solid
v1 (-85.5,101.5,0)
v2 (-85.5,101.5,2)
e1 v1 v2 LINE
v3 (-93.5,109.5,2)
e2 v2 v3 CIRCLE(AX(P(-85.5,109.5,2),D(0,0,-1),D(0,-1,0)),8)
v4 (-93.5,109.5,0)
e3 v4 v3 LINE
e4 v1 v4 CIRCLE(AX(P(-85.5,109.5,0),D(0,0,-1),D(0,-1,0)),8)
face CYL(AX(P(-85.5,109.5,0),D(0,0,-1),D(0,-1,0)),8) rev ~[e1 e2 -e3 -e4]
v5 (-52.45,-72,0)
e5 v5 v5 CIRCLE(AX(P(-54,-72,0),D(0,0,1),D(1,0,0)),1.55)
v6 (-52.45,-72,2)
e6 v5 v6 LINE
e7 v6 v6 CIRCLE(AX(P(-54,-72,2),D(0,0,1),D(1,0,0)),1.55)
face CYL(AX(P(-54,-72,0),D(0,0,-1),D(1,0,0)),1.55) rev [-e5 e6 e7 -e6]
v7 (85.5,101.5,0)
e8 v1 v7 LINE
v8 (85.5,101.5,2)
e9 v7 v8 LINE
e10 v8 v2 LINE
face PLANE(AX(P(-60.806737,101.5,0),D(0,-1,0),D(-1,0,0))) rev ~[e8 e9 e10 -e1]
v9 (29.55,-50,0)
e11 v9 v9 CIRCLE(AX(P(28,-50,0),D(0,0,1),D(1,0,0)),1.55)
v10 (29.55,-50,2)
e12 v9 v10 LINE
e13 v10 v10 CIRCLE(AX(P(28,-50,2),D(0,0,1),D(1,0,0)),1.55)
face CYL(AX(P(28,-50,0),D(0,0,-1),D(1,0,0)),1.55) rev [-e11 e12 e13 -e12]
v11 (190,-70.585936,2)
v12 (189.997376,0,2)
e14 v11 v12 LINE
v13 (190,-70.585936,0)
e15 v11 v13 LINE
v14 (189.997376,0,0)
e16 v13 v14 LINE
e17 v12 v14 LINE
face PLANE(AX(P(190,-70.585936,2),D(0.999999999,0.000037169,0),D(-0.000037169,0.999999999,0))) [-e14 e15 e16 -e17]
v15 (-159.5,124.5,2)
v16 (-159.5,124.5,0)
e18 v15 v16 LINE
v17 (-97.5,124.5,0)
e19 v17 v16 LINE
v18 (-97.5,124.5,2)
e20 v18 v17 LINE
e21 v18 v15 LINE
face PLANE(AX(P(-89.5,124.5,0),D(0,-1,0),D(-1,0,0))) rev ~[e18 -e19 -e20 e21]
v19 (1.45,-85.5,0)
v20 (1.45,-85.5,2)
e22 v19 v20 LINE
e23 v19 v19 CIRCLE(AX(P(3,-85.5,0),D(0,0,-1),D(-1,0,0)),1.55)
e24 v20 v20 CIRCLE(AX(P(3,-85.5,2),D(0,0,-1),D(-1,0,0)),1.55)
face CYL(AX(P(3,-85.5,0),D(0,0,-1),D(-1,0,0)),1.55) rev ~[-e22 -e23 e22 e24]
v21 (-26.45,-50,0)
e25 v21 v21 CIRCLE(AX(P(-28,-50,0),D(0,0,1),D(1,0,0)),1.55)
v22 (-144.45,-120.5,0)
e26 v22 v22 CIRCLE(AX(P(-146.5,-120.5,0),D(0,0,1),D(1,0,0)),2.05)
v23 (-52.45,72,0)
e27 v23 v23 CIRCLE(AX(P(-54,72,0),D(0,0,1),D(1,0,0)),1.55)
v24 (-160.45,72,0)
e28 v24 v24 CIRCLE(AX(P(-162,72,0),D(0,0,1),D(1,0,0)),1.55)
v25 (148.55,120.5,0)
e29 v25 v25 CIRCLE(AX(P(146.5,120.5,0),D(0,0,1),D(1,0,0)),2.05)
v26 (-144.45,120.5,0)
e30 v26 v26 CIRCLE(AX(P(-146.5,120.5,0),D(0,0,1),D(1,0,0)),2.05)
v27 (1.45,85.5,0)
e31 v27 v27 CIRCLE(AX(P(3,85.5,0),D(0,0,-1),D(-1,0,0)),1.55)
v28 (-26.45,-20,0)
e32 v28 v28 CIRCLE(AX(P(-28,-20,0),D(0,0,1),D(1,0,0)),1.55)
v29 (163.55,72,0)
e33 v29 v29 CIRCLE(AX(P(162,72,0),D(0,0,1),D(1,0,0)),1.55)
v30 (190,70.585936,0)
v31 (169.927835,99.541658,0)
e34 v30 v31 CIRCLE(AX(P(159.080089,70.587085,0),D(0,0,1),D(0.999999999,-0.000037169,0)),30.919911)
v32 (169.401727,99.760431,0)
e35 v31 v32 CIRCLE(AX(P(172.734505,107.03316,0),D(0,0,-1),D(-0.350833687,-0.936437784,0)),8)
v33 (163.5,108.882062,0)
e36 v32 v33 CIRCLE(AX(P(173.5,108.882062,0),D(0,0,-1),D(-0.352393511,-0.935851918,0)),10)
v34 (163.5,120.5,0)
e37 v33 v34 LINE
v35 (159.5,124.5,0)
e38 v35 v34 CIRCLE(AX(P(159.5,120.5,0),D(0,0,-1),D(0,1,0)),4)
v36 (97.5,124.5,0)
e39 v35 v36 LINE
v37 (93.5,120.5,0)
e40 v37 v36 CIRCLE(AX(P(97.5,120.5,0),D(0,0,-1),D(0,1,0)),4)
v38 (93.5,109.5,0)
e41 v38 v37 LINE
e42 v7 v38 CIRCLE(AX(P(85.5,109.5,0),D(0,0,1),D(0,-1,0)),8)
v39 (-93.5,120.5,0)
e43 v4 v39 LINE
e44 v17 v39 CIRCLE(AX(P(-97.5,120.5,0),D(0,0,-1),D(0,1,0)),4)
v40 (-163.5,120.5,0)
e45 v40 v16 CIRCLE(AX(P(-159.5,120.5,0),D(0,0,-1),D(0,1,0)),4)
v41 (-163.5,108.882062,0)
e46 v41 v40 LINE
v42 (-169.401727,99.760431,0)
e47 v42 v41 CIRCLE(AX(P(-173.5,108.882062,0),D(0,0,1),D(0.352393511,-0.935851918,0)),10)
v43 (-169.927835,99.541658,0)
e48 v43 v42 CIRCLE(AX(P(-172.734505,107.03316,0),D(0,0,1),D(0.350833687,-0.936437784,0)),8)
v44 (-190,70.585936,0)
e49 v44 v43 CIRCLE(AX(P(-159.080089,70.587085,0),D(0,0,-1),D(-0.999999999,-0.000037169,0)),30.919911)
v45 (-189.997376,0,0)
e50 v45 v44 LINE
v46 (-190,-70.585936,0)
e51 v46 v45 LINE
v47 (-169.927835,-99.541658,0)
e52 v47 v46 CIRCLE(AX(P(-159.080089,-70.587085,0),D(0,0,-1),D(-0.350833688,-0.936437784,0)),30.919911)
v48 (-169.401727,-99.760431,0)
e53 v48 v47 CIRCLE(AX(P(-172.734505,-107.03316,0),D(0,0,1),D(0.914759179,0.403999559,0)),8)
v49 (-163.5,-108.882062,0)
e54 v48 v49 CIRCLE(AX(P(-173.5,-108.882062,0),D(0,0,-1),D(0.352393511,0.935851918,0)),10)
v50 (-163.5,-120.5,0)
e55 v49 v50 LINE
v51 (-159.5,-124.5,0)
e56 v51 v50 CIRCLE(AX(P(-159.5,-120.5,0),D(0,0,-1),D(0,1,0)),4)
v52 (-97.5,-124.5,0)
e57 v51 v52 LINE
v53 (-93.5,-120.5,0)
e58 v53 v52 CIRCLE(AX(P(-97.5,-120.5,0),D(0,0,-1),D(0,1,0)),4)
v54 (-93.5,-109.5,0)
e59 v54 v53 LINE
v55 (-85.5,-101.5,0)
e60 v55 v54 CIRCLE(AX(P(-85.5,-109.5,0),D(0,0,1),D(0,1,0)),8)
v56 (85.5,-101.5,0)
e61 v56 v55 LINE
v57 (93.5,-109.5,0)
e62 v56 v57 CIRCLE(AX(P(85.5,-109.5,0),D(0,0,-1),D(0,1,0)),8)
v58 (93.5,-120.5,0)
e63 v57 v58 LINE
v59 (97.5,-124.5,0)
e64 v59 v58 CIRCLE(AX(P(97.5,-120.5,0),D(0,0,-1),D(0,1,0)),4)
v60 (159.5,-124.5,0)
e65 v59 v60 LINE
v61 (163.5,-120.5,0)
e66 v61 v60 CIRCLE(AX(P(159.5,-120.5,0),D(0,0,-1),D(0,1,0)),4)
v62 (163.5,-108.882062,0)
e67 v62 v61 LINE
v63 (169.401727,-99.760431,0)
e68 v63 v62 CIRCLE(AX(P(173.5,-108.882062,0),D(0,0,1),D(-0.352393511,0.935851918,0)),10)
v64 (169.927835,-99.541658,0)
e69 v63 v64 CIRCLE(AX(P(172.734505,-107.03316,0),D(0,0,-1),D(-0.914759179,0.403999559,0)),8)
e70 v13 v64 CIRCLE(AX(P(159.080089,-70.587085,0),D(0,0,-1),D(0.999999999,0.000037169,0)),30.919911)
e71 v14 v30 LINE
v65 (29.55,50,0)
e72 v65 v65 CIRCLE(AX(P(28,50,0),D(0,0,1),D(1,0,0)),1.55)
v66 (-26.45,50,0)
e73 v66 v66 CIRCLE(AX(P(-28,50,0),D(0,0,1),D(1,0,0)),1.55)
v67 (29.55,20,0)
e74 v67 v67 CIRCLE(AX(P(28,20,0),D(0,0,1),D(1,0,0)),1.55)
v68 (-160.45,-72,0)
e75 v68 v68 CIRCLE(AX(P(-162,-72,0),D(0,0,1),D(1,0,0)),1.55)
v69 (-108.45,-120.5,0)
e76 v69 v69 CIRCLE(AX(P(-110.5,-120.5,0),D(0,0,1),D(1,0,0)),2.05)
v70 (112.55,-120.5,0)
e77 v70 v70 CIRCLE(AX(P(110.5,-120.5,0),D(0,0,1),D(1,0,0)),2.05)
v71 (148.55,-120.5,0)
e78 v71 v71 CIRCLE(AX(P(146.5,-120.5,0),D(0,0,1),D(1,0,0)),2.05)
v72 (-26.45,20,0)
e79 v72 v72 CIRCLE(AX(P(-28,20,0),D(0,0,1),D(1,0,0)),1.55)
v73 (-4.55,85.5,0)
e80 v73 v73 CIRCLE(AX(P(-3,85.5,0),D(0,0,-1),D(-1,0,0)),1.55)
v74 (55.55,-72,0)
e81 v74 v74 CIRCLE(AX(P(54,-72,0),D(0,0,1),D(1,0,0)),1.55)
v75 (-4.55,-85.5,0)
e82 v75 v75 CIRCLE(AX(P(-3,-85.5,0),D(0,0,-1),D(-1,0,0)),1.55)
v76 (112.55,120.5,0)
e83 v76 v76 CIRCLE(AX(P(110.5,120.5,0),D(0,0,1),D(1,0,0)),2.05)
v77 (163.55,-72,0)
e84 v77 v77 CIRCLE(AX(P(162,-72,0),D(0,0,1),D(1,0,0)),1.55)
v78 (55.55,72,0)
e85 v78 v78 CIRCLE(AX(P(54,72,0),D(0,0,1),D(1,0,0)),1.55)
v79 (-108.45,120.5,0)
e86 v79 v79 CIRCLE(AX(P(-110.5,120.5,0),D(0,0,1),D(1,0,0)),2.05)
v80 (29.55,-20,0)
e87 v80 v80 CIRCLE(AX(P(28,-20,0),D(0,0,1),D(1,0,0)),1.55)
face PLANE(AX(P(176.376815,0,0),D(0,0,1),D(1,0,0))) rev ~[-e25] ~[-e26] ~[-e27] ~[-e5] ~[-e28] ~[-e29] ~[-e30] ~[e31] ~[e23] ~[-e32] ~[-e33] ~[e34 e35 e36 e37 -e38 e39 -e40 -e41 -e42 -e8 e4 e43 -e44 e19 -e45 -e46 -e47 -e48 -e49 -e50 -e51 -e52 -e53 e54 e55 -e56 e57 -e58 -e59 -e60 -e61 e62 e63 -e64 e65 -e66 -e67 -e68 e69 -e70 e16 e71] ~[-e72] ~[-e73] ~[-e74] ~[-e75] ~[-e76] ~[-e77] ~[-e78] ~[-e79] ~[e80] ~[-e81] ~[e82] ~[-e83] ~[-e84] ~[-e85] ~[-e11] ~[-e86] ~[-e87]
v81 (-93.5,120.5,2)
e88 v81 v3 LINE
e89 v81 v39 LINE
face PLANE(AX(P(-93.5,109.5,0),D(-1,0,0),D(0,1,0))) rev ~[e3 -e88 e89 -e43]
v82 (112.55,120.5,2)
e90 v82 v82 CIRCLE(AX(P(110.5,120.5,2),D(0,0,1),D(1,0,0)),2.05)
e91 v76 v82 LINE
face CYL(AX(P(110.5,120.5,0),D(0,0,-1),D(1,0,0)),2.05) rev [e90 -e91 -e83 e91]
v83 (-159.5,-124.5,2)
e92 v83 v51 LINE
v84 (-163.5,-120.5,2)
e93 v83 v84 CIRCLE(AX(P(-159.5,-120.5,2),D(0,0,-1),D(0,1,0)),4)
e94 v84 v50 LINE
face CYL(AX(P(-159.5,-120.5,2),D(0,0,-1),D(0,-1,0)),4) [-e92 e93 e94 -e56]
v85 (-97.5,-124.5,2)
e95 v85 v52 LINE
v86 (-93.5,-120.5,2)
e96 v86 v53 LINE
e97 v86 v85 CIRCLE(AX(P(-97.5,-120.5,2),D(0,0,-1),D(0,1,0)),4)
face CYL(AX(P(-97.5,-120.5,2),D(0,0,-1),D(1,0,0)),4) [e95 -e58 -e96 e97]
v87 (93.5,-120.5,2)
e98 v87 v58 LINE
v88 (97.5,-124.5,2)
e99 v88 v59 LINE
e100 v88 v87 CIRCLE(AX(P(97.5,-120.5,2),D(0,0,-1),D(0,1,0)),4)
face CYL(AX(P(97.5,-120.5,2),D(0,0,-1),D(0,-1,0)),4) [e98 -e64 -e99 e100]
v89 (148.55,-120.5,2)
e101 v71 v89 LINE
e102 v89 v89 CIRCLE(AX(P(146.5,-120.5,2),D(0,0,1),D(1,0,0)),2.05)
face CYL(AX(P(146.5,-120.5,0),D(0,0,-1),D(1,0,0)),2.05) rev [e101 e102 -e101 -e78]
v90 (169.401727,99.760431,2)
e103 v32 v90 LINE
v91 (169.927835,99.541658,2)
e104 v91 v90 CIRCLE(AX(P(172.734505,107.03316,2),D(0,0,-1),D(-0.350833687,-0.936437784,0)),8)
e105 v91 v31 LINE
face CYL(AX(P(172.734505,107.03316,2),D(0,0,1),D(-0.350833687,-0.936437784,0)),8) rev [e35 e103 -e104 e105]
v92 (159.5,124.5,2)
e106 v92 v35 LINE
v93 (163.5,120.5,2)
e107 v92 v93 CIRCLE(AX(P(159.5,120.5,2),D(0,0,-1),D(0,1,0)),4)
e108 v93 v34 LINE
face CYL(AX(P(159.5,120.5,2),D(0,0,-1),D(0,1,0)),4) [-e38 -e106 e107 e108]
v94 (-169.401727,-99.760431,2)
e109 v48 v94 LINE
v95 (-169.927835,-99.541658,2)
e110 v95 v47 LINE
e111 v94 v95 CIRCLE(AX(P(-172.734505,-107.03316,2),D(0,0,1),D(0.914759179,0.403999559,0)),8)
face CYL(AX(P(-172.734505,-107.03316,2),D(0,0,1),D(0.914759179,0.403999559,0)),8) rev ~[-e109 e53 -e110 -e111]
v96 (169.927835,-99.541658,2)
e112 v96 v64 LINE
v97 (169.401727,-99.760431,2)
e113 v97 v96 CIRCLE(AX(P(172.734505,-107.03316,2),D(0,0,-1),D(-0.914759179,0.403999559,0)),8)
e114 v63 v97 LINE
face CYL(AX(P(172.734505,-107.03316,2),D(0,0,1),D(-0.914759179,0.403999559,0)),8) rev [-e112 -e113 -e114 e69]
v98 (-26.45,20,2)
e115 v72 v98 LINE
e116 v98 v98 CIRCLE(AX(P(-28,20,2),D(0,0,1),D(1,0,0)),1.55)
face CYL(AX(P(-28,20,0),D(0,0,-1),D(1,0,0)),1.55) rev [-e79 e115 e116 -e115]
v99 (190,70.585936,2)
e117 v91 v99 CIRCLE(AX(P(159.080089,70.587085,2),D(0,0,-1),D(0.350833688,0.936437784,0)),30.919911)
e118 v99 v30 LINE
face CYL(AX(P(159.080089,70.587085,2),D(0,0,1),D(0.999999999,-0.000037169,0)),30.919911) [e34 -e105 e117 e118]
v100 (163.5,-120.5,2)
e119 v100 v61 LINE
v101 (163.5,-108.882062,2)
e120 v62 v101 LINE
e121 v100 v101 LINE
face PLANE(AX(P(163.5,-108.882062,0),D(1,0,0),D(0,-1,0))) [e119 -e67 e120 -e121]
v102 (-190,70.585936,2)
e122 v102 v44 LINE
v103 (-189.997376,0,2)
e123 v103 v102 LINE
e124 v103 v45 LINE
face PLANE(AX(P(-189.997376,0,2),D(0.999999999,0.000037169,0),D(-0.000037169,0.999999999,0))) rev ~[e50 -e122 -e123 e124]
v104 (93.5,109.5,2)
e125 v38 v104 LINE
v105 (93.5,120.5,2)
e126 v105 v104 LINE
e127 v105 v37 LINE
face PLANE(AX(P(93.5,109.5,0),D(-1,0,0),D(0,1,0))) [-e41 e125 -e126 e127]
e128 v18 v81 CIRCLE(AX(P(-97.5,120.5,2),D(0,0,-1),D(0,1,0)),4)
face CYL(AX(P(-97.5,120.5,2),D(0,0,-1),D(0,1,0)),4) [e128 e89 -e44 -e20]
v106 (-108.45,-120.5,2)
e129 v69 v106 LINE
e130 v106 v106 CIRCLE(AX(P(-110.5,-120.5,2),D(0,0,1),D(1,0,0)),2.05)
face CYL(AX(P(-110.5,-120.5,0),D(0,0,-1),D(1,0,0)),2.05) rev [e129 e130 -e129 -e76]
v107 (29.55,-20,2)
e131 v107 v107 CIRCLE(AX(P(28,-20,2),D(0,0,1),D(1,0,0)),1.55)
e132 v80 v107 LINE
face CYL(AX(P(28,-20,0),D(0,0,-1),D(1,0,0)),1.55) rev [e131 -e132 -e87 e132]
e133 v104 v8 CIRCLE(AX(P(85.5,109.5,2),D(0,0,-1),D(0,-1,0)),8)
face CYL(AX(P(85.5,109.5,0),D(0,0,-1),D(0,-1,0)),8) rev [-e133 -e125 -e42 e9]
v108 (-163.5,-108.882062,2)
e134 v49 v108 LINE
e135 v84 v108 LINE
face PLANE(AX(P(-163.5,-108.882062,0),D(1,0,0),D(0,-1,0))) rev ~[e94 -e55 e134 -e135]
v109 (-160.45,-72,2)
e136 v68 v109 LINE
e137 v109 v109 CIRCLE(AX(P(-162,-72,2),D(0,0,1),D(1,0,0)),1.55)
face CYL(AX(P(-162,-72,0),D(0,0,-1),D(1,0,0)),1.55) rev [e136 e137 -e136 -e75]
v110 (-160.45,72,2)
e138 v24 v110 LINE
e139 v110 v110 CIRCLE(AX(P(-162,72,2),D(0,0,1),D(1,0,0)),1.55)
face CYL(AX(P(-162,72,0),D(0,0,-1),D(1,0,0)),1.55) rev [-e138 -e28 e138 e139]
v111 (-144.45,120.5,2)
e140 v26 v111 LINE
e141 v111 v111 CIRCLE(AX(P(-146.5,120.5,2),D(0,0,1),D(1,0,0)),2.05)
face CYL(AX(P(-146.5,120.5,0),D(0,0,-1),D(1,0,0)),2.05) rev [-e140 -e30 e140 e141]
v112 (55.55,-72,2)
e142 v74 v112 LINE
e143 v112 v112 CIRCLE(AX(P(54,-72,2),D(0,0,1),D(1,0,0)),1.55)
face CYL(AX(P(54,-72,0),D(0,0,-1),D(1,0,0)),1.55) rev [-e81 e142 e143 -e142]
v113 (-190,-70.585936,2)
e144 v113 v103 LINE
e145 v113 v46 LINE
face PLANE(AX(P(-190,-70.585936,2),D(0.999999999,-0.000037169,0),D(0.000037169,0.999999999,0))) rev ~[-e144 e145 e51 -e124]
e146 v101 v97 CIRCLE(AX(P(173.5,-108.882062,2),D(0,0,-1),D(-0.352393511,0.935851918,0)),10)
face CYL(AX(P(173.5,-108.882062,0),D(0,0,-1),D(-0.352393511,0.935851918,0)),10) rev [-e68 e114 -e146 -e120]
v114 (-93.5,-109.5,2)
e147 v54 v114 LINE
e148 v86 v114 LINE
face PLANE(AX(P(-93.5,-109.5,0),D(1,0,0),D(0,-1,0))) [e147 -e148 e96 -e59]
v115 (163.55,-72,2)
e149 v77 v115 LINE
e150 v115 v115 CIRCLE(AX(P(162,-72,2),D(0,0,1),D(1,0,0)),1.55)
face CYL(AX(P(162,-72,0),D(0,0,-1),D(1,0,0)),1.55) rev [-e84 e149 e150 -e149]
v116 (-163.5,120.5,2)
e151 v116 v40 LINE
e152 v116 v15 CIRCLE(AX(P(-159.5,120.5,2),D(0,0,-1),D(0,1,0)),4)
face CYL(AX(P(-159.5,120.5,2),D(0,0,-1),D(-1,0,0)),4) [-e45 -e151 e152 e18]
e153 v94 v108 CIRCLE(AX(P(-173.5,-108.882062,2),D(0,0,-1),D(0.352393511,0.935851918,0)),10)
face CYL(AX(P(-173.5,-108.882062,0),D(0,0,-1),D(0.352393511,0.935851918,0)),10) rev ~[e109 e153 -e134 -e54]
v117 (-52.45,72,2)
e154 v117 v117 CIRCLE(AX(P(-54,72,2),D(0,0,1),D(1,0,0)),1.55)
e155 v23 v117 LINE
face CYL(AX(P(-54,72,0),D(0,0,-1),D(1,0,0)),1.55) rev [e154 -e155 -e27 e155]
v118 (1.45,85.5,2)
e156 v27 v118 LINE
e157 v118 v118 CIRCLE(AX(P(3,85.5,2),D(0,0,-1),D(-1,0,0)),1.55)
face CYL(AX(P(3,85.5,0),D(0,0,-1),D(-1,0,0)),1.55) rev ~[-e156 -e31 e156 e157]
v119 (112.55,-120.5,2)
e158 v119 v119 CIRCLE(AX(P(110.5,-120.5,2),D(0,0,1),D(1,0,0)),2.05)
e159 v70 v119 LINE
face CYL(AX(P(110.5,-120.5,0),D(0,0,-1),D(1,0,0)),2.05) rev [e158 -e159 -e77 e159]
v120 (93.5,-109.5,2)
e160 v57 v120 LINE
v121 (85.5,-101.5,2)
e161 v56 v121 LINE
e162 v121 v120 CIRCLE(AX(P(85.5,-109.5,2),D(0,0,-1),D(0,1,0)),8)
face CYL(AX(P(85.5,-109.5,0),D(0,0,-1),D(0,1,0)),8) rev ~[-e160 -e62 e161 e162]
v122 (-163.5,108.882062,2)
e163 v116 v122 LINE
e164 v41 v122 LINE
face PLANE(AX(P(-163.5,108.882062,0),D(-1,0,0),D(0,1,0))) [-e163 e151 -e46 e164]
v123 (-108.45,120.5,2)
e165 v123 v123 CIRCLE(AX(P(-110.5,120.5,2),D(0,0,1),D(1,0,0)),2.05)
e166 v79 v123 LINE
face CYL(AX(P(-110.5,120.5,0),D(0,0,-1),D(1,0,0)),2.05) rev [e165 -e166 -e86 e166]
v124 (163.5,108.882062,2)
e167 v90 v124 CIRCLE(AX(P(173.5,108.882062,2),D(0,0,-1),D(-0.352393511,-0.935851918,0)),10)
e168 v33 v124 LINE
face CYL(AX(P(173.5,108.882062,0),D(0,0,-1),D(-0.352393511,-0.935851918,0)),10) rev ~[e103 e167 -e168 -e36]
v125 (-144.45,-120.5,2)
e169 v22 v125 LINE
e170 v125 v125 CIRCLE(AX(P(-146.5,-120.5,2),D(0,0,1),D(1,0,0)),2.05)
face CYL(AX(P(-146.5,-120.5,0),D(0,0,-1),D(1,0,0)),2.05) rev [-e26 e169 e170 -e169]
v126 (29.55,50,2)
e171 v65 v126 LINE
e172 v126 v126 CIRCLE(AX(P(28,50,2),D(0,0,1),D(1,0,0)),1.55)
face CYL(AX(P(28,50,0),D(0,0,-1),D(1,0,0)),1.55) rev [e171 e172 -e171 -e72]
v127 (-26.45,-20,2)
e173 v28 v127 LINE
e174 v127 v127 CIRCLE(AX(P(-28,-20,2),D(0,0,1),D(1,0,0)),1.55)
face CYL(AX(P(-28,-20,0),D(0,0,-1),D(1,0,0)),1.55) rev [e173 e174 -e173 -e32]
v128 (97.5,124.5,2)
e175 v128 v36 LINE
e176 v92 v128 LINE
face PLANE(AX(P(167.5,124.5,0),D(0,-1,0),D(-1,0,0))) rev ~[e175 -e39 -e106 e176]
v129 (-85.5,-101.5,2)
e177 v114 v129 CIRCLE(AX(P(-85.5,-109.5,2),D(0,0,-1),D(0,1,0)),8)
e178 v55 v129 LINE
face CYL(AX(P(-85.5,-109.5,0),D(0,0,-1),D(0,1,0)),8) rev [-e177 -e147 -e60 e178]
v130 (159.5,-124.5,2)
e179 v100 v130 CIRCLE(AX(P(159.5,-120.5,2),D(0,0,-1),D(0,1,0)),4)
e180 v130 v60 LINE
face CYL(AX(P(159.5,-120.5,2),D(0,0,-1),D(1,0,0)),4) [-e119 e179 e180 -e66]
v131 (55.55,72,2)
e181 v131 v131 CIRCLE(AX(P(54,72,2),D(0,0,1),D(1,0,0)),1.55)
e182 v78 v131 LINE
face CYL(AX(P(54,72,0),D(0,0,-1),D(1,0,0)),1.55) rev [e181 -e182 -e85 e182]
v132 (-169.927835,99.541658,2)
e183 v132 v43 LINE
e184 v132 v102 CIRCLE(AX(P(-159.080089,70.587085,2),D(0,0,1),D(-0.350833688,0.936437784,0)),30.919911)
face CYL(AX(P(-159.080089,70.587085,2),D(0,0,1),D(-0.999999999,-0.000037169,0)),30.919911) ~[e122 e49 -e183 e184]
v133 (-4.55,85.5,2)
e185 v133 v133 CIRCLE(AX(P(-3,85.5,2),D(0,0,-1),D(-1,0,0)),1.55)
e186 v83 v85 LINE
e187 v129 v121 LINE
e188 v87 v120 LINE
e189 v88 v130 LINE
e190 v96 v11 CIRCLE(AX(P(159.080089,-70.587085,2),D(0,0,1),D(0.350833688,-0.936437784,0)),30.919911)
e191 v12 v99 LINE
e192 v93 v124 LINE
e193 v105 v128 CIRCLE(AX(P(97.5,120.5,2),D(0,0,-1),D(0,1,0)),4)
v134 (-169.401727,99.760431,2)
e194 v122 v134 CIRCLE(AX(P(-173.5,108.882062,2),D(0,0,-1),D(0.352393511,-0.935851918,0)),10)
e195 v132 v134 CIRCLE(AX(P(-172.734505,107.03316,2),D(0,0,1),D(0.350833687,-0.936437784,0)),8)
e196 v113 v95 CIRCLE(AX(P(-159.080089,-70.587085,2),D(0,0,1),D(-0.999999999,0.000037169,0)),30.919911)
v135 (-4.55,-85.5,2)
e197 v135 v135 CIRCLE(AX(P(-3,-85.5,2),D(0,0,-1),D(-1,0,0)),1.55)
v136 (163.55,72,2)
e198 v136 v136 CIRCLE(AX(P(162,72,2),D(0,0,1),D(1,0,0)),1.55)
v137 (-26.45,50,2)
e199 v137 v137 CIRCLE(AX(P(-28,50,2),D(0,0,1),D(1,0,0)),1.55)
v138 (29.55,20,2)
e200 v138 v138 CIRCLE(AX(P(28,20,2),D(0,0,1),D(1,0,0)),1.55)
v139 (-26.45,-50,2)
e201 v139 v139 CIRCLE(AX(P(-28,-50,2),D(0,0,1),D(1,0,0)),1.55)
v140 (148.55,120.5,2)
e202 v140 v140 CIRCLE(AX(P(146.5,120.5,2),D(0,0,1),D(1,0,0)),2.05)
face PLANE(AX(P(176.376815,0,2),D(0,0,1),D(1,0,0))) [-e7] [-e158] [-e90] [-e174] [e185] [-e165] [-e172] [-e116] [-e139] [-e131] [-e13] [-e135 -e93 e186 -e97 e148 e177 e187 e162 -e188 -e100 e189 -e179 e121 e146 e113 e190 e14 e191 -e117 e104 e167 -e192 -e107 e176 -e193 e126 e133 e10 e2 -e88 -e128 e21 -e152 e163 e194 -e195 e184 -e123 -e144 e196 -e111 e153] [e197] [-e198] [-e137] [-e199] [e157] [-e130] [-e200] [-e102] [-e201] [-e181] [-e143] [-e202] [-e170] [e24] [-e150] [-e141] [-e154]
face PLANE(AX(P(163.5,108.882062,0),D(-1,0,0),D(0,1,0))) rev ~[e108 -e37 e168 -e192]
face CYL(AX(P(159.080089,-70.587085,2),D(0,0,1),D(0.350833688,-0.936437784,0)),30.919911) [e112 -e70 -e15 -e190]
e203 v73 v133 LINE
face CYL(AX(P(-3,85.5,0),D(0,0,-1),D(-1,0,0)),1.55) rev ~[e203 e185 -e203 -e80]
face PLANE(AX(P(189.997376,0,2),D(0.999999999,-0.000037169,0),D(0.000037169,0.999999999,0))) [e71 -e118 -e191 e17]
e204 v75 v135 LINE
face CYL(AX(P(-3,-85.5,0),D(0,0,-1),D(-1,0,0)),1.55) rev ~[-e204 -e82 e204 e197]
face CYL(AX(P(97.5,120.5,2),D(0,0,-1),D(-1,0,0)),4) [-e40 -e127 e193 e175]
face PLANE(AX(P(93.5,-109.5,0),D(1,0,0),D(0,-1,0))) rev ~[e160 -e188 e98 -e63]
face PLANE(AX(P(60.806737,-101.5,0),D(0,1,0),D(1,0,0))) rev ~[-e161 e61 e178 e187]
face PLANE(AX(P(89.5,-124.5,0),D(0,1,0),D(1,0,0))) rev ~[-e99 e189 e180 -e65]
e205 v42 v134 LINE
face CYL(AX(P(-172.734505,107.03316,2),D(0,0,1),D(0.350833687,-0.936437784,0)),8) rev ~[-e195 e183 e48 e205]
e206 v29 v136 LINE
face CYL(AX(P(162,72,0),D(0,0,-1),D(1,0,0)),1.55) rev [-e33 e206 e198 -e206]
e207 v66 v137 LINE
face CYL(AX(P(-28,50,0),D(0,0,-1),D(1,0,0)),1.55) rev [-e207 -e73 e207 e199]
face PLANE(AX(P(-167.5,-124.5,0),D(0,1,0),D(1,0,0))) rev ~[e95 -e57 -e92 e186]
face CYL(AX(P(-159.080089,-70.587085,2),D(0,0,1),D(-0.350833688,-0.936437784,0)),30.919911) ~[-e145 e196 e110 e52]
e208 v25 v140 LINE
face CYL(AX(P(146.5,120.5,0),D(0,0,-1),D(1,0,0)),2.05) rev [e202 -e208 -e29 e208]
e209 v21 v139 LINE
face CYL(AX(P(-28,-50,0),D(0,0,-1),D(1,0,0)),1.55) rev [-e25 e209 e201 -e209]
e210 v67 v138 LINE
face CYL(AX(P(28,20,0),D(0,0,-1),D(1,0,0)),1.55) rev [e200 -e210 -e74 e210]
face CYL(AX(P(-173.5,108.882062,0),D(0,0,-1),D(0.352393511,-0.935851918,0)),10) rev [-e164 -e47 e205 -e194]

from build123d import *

# Parameters (mm, degrees)
SKETCH1_R           = 2.05
SKETCH1_R_2         = 1.55
BOSS_EXTRUDE1_DEPTH = 2
FILLET_1_R          = 10
FILLET_2_R          = 3
EXTRUDE_1_DEPTH     = 2
CUT_EXTRUDE_1_DEPTH = 10
FILLET_3_R          = 4
SKETCH5_R           = 1.55
CUT_EXTRUDE1_DEPTH  = 10


with BuildPart() as part:
    # Sketch1 → Boss-Extrude1 (new body)
    with BuildSketch(Plane.XY):
        Polygon((-89.5, -124.5), (-89.5, -101.5), (89.5, -101.5), (89.5, -124.5), (167.5, -124.5), (167.5, 124.5), (89.5, 124.5), (89.5, 101.5), (-89.5, 101.5), (-89.5, 124.5), (-167.5, 124.5), (-167.5, -124.5), align=None)
        with Locations((-146.5, -120.5)):
            Circle(SKETCH1_R, mode=Mode.SUBTRACT)
        with Locations((-110.5, -120.5)):
            Circle(SKETCH1_R, mode=Mode.SUBTRACT)
        with Locations((110.5, -120.5)):
            Circle(SKETCH1_R, mode=Mode.SUBTRACT)
        with Locations((146.5, -120.5)):
            Circle(SKETCH1_R, mode=Mode.SUBTRACT)
        with Locations((110.5, 120.5)):
            Circle(SKETCH1_R, mode=Mode.SUBTRACT)
        with Locations((146.5, 120.5)):
            Circle(SKETCH1_R, mode=Mode.SUBTRACT)
        with Locations((-110.5, 120.5)):
            Circle(SKETCH1_R, mode=Mode.SUBTRACT)
        with Locations((-146.5, 120.5)):
            Circle(SKETCH1_R, mode=Mode.SUBTRACT)
        with Locations((-28, -50)):
            Circle(SKETCH1_R_2, mode=Mode.SUBTRACT)
        with Locations((-28, -20)):
            Circle(SKETCH1_R_2, mode=Mode.SUBTRACT)
        with Locations((-28, 20)):
            Circle(SKETCH1_R_2, mode=Mode.SUBTRACT)
        with Locations((-28, 50)):
            Circle(SKETCH1_R_2, mode=Mode.SUBTRACT)
        with Locations((28, 50)):
            Circle(SKETCH1_R_2, mode=Mode.SUBTRACT)
        with Locations((28, 20)):
            Circle(SKETCH1_R_2, mode=Mode.SUBTRACT)
        with Locations((28, -20)):
            Circle(SKETCH1_R_2, mode=Mode.SUBTRACT)
        with Locations((28, -50)):
            Circle(SKETCH1_R_2, mode=Mode.SUBTRACT)
        with Locations((-162, -72)):
            Circle(SKETCH1_R_2, mode=Mode.SUBTRACT)
        with Locations((-54, -72)):
            Circle(SKETCH1_R_2, mode=Mode.SUBTRACT)
        with Locations((-162, 72)):
            Circle(SKETCH1_R_2, mode=Mode.SUBTRACT)
        with Locations((-54, 72)):
            Circle(SKETCH1_R_2, mode=Mode.SUBTRACT)
        with Locations((162, 72)):
            Circle(SKETCH1_R_2, mode=Mode.SUBTRACT)
        with Locations((54, 72)):
            Circle(SKETCH1_R_2, mode=Mode.SUBTRACT)
        with Locations((162, -72)):
            Circle(SKETCH1_R_2, mode=Mode.SUBTRACT)
        with Locations((54, -72)):
            Circle(SKETCH1_R_2, mode=Mode.SUBTRACT)
    extrude(amount=BOSS_EXTRUDE1_DEPTH)

    # 圆角1
    fillet_1_edges = [part.edges().sort_by_distance(p)[0] for p in [
        (-89.5, 101.5, 1),
        (89.5, 101.5, 1),
        (89.5, -101.5, 1),
        (-89.5, -101.5, 1),
    ]]
    fillet(fillet_1_edges, radius=FILLET_1_R)

    # 圆角2
    fillet_2_edges = [part.edges().sort_by_distance(p)[0] for p in [
        (89.5, 124.5, 1),
        (167.5, 124.5, 1),
        (167.5, -124.5, 1),
        (89.5, -124.5, 1),
        (-89.5, -124.5, 1),
        (-167.5, -124.5, 1),
        (-167.5, 124.5, 1),
        (-89.5, 124.5, 1),
    ]]
    fillet(fillet_2_edges, radius=FILLET_2_R)

    # 草图1 → 凸台-拉伸1 (add)
    with BuildSketch(Plane.XY.offset(2)):
        with BuildLine():
            Line((189.997376171, 0), (189.999999808, 70.585935638))
            ThreePointArc((189.999999808, 70.585935638), (184.491557968, 88.202366102), (169.927835286, 99.541657768))
            ThreePointArc((169.927835286, 99.541657768), (167.242378396, 101.21624095), (165.416431352, 103.801163566))
            Line((165.416431352, 103.801163566), (165.416428605, 0))
            Line((165.416428605, 0), (165.416431352, -103.801163566))
            ThreePointArc((165.416431352, -103.801163566), (167.242378396, -101.21624095), (169.927835286, -99.541657768))
            ThreePointArc((169.927835286, -99.541657768), (184.491557968, -88.202366102), (189.999999808, -70.585935638))
            Line((189.999999808, -70.585935638), (189.997376171, 0))
        make_face()
        with BuildLine():
            Line((-165.416431352, 103.801163566), (-165.416428605, 0))
            Line((-165.416428605, 0), (-165.416431352, -103.801163566))
            ThreePointArc((-165.416431352, -103.801163566), (-167.242378396, -101.21624095), (-169.927835286, -99.541657768))
            ThreePointArc((-169.927835286, -99.541657768), (-184.491557968, -88.202366102), (-189.999999808, -70.585935638))
            Line((-189.999999808, -70.585935638), (-189.997376171, 0))
            Line((-189.997376171, 0), (-189.999999808, 70.585935638))
            ThreePointArc((-189.999999808, 70.585935638), (-184.491557968, 88.202366102), (-169.927835286, 99.541657768))
            ThreePointArc((-169.927835286, 99.541657768), (-167.242378396, 101.21624095), (-165.416431352, 103.801163566))
        make_face()
    extrude(amount=-EXTRUDE_1_DEPTH)

    # 草图2 → 切除-拉伸1 (cut)
    with BuildSketch(Plane(origin=(0, 0, 0), x_dir=(-1, 0, 0), z_dir=(0, 0, -1))):
        with BuildLine():
            Line((-163.5, 108.882062038), (-163.5, 125.12763211))
            Line((-163.5, 125.12763211), (-195.489977478, 125.12763211))
            Line((-195.489977478, 125.12763211), (-189.999999808, 70.585935638))
            ThreePointArc((-189.999999808, 70.585935638), (-184.506224613, 88.181189445), (-169.976064889, 99.523542853))
            ThreePointArc((-169.976064889, 99.523542853), (-165.276881641, 103.191690833), (-163.5, 108.882062038))
        make_face()
        with BuildLine():
            Line((-60.806736633, 101.5), (-85.5, 101.5))
            ThreePointArc((-85.5, 101.5), (-91.156854249, 103.843145751), (-93.5, 109.5))
            Line((-93.5, 109.5), (-93.5, 125.12763211))
            Line((-93.5, 125.12763211), (-60.806736633, 125.12763211))
            Line((-60.806736633, 125.12763211), (-60.806736633, 101.5))
        make_face()
        with BuildLine():
            Line((60.806736633, 125.12763211), (60.806736633, 101.5))
            Line((60.806736633, 101.5), (85.5, 101.5))
            ThreePointArc((85.5, 101.5), (91.156854249, 103.843145751), (93.5, 109.5))
            Line((93.5, 109.5), (93.5, 125.12763211))
            Line((93.5, 125.12763211), (60.806736633, 125.12763211))
        make_face()
        with BuildLine():
            Line((195.489977478, 125.12763211), (189.999999808, 70.585935638))
            ThreePointArc((189.999999808, 70.585935638), (184.506224613, 88.181189445), (169.976064889, 99.523542853))
            ThreePointArc((169.976064889, 99.523542853), (165.276881641, 103.191690833), (163.5, 108.882062038))
            Line((163.5, 108.882062038), (163.5, 125.12763211))
            Line((163.5, 125.12763211), (195.489977478, 125.12763211))
        make_face()
        with BuildLine():
            Line((163.5, -108.882062038), (163.5, -125.12763211))
            Line((163.5, -125.12763211), (195.489977478, -125.12763211))
            Line((195.489977478, -125.12763211), (189.999999808, -70.585935638))
            ThreePointArc((189.999999808, -70.585935638), (184.506224613, -88.181189445), (169.976064889, -99.523542853))
            ThreePointArc((169.976064889, -99.523542853), (165.276881641, -103.191690833), (163.5, -108.882062038))
        make_face()
        with BuildLine():
            Line((60.806736633, -101.5), (85.5, -101.5))
            ThreePointArc((85.5, -101.5), (91.156854249, -103.843145751), (93.5, -109.5))
            Line((93.5, -109.5), (93.5, -125.12763211))
            Line((93.5, -125.12763211), (60.806736633, -125.12763211))
            Line((60.806736633, -125.12763211), (60.806736633, -101.5))
        make_face()
        with BuildLine():
            Line((-60.806736633, -125.12763211), (-60.806736633, -101.5))
            Line((-60.806736633, -101.5), (-85.5, -101.5))
            ThreePointArc((-85.5, -101.5), (-91.156854249, -103.843145751), (-93.5, -109.5))
            Line((-93.5, -109.5), (-93.5, -125.12763211))
            Line((-93.5, -125.12763211), (-60.806736633, -125.12763211))
        make_face()
        with BuildLine():
            Line((-195.489977478, -125.12763211), (-189.999999808, -70.585935638))
            ThreePointArc((-189.999999808, -70.585935638), (-184.506224613, -88.181189445), (-169.976064889, -99.523542853))
            ThreePointArc((-169.976064889, -99.523542853), (-165.276881641, -103.191690833), (-163.5, -108.882062038))
            Line((-163.5, -108.882062038), (-163.5, -125.12763211))
            Line((-163.5, -125.12763211), (-195.489977478, -125.12763211))
        make_face()
    extrude(amount=-CUT_EXTRUDE_1_DEPTH, mode=Mode.SUBTRACT)

    # 圆角3
    fillet_3_edges = [part.edges().sort_by_distance(p)[0] for p in [
        (93.5, 124.5, 1),
        (-93.5, 124.5, 1),
        (-163.5, 124.5, 1),
        (-163.5, -124.5, 1),
        (-93.5, -124.5, 1),
        (93.5, -124.5, 1),
        (163.5, -124.5, 1),
        (163.5, 124.5, 1),
    ]]
    fillet(fillet_3_edges, radius=FILLET_3_R)

    # Sketch5 → Cut-Extrude1 (cut)
    with BuildSketch(Plane(origin=(0, 0, 0), x_dir=(-1, 0, 0), z_dir=(0, 0, -1))):
        with Locations((3, 85.5)):
            Circle(SKETCH5_R)
        with Locations((-3, 85.5)):
            Circle(SKETCH5_R)
        with Locations((-3, -85.5)):
            Circle(SKETCH5_R)
        with Locations((3, -85.5)):
            Circle(SKETCH5_R)
    extrude(amount=-CUT_EXTRUDE1_DEPTH, mode=Mode.SUBTRACT)


solid = part.part
